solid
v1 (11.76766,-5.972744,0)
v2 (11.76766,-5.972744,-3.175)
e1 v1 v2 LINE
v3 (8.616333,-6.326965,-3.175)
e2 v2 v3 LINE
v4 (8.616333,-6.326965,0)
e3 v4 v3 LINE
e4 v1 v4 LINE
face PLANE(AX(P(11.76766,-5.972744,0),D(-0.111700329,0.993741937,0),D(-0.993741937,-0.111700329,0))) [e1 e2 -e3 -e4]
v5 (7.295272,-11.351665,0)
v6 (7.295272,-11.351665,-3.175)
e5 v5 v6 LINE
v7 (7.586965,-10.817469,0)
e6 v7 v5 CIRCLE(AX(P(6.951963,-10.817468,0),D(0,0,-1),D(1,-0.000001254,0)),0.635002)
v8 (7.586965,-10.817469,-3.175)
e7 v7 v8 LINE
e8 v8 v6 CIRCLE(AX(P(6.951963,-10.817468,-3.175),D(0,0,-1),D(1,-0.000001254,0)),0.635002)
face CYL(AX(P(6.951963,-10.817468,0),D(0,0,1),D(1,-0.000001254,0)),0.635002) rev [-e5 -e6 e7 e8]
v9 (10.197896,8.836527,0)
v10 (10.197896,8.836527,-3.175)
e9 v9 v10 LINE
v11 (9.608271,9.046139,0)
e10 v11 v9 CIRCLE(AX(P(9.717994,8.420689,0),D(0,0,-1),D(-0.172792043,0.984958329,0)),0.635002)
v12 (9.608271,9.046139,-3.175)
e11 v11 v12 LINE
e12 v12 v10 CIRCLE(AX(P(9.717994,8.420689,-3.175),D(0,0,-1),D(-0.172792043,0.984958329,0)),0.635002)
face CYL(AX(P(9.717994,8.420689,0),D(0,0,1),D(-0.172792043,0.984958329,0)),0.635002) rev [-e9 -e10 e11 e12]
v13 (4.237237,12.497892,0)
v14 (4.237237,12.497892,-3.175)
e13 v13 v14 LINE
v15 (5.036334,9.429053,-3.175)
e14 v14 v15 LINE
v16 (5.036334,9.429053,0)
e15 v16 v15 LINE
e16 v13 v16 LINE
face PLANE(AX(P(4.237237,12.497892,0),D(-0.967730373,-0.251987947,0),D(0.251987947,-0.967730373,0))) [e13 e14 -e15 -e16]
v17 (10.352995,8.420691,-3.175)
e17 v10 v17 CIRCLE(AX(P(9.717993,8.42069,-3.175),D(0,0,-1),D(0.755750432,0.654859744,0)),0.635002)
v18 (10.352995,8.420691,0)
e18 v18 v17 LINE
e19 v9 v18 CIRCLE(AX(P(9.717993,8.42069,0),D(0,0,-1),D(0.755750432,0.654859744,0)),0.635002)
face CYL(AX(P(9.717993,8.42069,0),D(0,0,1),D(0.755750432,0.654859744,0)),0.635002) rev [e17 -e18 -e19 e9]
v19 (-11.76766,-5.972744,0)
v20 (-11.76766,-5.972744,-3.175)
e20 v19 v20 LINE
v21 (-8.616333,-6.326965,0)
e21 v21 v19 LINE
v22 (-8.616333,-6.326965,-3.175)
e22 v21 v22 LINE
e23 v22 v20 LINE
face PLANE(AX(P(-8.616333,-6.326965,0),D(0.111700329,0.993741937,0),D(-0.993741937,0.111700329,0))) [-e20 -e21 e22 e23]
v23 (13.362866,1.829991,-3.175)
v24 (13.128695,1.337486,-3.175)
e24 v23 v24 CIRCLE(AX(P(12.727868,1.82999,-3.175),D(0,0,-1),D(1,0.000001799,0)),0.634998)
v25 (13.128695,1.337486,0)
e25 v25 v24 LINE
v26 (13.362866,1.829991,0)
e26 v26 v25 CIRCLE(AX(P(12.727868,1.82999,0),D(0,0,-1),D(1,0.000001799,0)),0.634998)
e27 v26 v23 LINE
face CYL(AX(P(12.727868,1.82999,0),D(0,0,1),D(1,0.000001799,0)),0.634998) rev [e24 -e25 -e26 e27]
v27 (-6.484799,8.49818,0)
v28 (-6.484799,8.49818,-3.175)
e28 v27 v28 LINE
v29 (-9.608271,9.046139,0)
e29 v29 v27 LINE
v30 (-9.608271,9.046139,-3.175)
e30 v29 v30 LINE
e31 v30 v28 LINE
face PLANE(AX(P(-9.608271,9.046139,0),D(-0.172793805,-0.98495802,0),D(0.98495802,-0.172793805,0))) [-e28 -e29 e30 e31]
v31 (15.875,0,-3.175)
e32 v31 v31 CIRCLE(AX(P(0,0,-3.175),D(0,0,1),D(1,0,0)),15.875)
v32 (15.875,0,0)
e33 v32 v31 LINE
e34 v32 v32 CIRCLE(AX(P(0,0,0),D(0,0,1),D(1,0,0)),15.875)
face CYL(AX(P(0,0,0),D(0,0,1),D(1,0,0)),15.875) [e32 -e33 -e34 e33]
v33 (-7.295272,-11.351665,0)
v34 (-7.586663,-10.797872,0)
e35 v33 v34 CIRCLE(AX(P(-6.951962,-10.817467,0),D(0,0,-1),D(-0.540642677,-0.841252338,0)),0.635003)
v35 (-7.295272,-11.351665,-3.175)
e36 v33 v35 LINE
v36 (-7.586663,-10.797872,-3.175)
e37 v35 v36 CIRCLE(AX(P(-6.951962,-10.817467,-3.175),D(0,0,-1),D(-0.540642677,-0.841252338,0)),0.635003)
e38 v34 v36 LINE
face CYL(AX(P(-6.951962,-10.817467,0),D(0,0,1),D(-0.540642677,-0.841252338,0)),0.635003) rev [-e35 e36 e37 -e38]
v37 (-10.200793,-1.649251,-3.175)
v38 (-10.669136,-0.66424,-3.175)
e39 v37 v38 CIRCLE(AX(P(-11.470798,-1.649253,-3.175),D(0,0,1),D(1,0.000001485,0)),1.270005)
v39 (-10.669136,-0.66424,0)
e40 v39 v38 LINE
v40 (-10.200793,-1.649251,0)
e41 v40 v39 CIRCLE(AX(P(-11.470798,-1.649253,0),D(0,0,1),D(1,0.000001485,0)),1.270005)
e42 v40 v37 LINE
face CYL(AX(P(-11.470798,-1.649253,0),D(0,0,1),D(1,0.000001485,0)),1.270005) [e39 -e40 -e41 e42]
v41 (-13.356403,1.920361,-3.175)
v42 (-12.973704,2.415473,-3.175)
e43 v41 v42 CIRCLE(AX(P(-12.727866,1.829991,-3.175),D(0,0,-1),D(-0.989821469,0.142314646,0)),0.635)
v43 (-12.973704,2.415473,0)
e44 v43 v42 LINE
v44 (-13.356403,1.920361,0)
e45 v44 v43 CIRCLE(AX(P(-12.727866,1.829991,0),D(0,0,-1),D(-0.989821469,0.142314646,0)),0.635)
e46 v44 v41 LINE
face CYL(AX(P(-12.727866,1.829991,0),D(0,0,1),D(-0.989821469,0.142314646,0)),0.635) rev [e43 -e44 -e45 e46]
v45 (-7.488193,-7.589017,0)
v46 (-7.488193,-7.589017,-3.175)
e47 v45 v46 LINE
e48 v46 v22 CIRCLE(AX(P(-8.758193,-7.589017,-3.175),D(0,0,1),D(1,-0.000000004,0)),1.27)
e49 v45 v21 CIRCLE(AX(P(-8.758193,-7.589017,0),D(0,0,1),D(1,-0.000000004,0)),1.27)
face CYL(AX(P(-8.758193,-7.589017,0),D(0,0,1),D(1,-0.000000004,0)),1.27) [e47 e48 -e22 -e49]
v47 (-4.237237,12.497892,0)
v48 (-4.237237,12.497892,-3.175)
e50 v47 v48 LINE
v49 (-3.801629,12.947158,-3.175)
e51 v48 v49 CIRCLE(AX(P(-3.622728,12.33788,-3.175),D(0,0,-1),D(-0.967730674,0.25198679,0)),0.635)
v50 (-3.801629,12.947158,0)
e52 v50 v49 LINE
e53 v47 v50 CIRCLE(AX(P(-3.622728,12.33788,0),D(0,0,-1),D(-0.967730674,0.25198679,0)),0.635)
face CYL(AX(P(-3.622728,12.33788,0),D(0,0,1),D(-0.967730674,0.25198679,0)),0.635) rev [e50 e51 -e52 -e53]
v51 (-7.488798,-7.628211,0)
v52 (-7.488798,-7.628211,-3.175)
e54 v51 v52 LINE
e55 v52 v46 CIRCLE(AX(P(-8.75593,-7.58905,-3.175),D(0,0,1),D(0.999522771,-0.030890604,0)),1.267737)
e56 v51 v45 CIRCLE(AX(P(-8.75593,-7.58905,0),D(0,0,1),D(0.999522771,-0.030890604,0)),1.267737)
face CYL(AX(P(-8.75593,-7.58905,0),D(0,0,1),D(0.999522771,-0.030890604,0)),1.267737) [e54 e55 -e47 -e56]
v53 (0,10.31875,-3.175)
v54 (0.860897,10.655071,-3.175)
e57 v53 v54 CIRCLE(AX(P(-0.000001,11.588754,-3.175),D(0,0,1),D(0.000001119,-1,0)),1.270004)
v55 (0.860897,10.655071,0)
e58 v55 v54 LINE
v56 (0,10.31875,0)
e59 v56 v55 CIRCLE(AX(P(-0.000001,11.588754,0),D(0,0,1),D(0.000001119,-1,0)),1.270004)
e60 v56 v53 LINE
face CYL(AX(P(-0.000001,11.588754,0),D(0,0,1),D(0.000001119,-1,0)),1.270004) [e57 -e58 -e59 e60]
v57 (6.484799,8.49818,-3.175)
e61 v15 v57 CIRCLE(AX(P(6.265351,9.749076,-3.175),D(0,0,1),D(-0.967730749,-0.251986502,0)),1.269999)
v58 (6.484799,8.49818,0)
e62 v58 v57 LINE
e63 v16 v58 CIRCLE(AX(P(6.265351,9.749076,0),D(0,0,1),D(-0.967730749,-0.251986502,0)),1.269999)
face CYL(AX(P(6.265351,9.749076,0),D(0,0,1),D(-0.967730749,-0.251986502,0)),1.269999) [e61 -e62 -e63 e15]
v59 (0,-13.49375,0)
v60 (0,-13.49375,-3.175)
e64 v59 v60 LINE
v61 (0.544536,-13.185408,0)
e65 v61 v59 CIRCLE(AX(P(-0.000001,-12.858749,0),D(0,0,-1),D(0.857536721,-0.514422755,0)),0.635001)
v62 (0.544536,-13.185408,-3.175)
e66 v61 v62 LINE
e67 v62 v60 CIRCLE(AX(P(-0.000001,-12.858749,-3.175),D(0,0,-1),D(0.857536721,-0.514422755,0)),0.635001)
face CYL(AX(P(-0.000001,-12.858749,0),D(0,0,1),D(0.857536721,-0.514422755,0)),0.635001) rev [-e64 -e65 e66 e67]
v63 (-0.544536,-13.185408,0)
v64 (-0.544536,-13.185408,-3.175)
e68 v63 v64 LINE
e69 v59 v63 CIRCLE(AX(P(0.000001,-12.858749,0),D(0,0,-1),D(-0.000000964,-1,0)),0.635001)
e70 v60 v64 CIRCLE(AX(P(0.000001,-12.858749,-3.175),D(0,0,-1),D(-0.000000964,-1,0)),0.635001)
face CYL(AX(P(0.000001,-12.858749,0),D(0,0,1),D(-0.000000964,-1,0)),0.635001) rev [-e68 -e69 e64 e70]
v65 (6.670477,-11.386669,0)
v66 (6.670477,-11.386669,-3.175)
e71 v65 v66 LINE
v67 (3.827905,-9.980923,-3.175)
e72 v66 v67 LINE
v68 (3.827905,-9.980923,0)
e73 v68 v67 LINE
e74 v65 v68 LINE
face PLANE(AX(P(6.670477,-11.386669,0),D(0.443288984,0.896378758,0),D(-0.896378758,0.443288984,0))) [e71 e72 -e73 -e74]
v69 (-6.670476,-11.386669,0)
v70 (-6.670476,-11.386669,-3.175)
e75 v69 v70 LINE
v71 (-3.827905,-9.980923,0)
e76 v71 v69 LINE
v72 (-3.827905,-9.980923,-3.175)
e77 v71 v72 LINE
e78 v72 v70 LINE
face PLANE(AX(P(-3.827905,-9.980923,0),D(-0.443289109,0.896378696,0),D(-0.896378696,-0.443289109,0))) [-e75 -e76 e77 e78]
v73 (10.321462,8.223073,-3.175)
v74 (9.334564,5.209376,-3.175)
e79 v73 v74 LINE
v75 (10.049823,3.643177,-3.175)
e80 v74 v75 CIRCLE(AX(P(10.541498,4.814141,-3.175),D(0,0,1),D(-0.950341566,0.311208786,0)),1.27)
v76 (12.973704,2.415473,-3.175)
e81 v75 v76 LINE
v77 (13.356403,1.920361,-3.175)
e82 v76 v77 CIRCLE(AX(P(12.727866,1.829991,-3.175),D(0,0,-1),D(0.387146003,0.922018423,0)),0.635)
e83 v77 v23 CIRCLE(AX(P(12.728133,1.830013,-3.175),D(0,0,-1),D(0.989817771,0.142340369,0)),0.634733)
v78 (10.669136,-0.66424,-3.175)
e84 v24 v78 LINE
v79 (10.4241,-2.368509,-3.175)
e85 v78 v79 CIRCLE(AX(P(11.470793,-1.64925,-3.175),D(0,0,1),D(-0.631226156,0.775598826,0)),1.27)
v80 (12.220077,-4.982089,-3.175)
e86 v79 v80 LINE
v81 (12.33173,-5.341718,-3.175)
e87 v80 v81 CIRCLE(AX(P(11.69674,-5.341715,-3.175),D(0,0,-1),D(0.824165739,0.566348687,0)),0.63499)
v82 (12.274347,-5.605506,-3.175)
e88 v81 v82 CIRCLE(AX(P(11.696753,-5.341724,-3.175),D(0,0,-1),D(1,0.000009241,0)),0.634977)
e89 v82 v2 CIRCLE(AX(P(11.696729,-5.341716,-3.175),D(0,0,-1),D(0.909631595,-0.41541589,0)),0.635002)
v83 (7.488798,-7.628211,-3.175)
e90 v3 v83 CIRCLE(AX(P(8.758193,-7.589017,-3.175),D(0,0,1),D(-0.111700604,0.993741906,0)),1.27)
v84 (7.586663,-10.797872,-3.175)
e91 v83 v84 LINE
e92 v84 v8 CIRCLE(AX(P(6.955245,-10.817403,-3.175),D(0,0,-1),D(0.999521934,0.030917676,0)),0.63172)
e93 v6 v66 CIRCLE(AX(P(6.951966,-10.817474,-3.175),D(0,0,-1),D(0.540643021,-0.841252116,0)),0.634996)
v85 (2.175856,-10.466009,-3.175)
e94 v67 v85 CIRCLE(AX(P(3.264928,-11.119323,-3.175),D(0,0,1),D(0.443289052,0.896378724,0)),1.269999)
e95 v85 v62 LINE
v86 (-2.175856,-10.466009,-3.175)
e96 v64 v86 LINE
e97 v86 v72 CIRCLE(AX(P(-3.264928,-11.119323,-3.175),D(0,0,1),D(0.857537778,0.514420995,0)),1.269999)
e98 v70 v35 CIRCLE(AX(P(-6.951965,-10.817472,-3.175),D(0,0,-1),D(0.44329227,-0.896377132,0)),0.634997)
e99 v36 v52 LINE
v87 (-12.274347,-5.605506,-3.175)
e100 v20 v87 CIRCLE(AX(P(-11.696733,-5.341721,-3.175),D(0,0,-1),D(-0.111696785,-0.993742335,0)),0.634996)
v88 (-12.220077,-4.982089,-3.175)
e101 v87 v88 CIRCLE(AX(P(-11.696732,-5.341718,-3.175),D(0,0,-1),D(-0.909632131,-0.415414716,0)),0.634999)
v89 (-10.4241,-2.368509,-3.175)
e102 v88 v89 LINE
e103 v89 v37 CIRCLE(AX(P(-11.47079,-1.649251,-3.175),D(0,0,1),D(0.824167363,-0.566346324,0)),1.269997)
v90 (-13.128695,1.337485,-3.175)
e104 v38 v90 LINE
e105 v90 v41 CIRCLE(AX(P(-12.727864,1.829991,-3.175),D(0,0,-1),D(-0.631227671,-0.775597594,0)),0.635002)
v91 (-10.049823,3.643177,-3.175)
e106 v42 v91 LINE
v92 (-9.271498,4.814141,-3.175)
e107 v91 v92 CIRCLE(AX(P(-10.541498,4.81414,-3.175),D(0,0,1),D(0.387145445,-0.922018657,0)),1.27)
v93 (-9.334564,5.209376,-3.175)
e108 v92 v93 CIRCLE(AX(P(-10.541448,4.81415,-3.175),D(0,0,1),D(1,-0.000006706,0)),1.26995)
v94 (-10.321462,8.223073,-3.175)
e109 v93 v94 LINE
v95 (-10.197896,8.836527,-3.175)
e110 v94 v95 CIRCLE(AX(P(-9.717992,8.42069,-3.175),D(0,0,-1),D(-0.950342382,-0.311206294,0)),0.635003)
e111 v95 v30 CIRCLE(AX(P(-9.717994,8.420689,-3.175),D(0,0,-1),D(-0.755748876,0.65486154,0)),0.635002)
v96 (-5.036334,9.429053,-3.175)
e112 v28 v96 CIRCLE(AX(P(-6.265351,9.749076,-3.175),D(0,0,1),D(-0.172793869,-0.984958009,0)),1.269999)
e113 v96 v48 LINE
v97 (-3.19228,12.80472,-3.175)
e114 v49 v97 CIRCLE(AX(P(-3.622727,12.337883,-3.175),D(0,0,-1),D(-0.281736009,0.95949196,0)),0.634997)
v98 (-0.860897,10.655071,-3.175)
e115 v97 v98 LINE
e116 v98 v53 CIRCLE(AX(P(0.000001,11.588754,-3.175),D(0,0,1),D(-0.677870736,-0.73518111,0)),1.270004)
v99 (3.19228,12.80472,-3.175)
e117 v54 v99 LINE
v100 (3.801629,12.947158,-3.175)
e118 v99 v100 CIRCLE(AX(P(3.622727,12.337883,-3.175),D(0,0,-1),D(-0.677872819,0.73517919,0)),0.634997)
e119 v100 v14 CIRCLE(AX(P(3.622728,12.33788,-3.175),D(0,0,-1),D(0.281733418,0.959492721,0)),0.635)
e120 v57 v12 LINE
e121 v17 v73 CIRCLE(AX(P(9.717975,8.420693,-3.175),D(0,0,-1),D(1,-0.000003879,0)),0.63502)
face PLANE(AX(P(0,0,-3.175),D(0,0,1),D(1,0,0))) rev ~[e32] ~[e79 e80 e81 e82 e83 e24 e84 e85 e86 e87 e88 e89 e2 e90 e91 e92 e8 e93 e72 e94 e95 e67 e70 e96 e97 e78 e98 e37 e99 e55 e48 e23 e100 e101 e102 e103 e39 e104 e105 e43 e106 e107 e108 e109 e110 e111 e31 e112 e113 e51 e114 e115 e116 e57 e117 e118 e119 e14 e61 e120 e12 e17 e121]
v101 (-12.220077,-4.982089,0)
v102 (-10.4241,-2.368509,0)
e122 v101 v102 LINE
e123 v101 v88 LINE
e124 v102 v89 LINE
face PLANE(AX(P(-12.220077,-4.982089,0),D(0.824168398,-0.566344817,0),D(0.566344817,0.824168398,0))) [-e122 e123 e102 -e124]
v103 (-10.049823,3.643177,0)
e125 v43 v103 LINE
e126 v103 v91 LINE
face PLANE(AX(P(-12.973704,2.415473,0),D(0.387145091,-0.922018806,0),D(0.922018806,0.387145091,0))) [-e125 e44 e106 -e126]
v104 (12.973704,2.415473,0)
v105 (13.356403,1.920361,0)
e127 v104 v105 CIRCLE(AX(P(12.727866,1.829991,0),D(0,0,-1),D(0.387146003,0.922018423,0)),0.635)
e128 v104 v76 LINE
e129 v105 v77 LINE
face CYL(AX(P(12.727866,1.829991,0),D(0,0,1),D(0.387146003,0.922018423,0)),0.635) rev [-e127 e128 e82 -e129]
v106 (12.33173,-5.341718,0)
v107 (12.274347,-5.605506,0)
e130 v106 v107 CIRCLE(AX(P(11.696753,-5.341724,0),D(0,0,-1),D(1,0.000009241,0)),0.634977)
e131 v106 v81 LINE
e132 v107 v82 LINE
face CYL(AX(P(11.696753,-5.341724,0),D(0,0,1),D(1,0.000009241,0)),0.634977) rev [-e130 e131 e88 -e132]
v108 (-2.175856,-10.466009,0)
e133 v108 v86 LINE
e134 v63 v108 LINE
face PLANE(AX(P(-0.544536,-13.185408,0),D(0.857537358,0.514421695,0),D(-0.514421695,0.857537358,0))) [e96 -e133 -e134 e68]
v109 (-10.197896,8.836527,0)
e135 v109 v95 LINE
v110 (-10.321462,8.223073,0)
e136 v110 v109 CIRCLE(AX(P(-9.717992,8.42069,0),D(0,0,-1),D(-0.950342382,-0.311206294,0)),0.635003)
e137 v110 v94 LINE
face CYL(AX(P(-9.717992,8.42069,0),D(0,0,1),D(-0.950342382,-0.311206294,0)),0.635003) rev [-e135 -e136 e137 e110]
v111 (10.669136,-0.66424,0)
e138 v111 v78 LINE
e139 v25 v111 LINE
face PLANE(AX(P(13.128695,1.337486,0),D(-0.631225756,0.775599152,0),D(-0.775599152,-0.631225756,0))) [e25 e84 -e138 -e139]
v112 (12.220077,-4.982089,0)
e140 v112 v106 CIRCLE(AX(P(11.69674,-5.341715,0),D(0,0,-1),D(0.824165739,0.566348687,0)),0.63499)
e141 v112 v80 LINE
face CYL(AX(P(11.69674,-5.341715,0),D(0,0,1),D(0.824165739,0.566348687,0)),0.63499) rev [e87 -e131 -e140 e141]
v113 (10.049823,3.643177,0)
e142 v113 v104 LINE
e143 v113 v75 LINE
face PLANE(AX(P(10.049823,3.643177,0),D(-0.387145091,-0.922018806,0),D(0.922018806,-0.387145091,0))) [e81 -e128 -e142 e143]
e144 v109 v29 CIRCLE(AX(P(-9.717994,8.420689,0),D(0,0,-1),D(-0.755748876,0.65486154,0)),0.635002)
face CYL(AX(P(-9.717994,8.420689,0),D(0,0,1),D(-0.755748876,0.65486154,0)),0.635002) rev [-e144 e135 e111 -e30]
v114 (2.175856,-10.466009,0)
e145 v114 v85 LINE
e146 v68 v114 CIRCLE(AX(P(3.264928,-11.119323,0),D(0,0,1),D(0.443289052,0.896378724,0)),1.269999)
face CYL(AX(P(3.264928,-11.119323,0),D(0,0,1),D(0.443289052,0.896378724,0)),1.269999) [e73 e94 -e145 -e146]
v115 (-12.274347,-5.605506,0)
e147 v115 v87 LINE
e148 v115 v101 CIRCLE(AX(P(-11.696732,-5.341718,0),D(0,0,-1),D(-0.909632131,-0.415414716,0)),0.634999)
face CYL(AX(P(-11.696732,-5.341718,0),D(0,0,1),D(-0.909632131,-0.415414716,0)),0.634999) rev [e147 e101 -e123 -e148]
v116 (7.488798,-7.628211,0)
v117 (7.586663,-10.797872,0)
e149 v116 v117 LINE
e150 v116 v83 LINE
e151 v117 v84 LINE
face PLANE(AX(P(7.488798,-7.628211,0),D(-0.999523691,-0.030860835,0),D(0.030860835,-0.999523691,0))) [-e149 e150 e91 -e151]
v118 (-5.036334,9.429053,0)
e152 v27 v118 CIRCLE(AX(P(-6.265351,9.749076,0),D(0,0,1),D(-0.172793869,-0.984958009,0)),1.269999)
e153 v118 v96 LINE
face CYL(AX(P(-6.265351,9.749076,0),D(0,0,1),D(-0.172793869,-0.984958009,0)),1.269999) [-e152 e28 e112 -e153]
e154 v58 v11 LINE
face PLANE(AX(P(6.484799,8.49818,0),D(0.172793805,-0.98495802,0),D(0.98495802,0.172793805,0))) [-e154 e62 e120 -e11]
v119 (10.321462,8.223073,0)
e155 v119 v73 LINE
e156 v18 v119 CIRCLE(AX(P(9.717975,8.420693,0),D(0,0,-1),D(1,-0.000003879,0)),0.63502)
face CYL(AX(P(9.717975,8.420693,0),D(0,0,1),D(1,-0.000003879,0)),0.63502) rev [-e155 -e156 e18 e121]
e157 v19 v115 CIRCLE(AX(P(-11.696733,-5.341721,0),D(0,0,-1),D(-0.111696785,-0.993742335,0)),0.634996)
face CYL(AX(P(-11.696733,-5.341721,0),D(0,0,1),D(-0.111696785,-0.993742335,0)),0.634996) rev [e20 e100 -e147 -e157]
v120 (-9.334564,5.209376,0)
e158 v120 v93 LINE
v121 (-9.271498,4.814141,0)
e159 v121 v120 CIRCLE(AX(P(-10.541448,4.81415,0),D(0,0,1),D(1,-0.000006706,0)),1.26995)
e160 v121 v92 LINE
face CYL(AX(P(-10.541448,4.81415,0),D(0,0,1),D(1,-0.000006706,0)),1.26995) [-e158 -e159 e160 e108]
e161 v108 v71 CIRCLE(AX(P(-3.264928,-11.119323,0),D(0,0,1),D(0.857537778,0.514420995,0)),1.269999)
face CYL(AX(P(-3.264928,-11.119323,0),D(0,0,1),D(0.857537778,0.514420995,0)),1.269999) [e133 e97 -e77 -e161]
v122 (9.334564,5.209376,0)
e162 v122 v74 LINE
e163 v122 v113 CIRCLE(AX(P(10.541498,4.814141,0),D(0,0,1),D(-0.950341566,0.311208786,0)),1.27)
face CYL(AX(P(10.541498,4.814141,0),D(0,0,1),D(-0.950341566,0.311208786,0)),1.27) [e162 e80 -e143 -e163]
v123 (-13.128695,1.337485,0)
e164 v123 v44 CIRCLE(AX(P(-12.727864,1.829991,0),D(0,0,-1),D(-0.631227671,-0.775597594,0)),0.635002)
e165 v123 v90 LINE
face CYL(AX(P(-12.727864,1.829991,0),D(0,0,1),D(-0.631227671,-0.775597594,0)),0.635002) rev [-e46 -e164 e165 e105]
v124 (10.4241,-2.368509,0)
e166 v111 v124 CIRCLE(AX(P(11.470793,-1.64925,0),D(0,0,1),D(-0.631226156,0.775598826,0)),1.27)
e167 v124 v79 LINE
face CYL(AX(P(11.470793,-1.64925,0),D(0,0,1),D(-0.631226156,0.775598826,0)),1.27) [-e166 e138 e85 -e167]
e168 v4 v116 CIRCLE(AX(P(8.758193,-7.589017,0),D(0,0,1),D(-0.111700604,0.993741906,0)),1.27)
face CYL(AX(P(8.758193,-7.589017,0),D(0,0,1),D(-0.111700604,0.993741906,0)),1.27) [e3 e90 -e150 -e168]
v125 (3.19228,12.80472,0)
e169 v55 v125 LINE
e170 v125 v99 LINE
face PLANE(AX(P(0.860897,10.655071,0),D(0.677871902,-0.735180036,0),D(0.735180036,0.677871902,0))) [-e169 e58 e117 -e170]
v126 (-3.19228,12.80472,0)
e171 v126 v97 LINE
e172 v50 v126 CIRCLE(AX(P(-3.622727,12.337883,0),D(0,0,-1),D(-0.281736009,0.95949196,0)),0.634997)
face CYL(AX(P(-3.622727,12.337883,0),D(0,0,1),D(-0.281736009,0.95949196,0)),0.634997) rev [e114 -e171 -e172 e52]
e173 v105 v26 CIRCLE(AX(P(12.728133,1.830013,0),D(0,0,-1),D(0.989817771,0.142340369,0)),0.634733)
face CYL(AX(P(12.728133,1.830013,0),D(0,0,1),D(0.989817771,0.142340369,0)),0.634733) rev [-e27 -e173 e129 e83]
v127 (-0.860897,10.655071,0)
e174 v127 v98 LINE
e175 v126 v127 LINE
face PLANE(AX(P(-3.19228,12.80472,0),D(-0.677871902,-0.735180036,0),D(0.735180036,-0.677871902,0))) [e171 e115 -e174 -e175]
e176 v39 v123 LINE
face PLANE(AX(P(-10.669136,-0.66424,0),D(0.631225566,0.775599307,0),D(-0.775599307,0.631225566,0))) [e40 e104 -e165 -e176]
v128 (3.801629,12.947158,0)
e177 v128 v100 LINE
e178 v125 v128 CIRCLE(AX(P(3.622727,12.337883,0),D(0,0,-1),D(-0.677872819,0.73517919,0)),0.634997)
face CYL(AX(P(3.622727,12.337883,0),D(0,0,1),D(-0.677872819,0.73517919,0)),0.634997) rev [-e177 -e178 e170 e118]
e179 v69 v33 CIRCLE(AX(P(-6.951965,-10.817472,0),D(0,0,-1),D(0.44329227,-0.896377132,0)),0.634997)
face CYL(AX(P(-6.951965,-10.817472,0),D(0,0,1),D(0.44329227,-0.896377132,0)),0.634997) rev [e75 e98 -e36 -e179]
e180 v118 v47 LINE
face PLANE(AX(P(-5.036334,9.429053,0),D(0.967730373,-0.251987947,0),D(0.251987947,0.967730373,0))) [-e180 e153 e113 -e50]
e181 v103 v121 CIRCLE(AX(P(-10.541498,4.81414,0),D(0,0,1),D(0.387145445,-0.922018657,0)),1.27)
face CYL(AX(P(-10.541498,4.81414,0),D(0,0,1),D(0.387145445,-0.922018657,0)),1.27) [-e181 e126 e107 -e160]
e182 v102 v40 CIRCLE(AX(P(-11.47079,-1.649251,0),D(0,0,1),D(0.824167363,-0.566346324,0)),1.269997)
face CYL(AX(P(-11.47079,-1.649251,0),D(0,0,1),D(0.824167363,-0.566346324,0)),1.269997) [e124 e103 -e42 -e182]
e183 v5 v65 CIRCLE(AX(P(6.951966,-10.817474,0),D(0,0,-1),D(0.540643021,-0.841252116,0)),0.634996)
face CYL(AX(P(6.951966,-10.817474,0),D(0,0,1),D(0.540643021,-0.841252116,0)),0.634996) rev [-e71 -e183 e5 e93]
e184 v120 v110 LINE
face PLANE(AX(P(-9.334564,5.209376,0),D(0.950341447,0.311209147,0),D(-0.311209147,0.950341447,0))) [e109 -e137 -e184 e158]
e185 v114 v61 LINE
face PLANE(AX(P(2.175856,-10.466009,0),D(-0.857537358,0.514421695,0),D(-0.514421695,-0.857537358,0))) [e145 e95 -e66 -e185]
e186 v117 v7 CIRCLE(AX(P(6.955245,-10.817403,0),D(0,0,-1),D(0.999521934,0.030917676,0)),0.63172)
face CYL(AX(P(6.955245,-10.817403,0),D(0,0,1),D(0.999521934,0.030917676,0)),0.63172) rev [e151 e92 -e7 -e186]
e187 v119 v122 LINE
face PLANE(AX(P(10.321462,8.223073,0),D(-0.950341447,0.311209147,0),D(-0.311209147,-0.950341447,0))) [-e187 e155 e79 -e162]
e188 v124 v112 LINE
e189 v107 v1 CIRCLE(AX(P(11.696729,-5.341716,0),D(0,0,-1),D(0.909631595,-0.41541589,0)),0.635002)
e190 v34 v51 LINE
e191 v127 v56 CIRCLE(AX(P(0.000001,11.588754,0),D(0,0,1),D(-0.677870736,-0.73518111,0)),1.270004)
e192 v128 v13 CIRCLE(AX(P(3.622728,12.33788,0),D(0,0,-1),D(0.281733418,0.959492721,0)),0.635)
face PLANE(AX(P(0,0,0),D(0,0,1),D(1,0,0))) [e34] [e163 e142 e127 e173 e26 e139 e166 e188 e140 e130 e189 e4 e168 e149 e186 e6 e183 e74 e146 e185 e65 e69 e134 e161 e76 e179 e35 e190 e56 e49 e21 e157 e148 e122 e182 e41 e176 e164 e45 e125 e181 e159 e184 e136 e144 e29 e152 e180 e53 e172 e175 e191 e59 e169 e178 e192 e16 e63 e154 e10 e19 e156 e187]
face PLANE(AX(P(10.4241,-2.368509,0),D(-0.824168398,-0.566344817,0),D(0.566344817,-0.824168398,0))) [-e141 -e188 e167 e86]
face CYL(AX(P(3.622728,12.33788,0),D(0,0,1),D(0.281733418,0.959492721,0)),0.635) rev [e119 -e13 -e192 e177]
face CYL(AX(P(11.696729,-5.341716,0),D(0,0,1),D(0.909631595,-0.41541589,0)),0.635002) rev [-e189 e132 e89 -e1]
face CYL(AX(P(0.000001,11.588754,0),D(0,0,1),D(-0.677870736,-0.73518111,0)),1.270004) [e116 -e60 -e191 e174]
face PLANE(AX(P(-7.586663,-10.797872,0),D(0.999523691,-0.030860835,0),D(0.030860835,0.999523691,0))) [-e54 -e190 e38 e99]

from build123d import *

# Parameters (mm, degrees)
F0_R     = 15.875
F1_DEPTH = 3.175


with BuildPart() as f1:
    # F0 (on Top) → F1 (new body)
    with BuildSketch(Plane.XY):
        Circle(F0_R)
        with BuildLine():
            ThreePointArc((0, 13.49375), (1.920361, 13.356403), (3.801629, 12.947158))
            ThreePointArc((3.801629, 12.947158), (7.295272, 11.351665), (10.197896, 8.836527))
            ThreePointArc((10.197896, 8.836527), (12.274347, 5.605506), (13.356403, 1.920361))
            ThreePointArc((13.356403, 1.920361), (13.459369, 0.962633), (13.49375, 0))
            ThreePointArc((13.49375, 0), (13.185376, -2.868303), (12.274347, -5.605506))
            ThreePointArc((12.274347, -5.605506), (10.197896, -8.836527), (7.295272, -11.351665))
            ThreePointArc((7.295272, -11.351665), (3.801629, -12.947158), (0, -13.49375))
            ThreePointArc((0, -13.49375), (-3.801629, -12.947158), (-7.295272, -11.351665))
            ThreePointArc((-7.295272, -11.351665), (-10.197896, -8.836527), (-12.274347, -5.605506))
            ThreePointArc((-12.274347, -5.605506), (-13.356403, -1.920361), (-13.356403, 1.920361))
            ThreePointArc((-13.356403, 1.920361), (-12.274347, 5.605506), (-10.197896, 8.836527))
            ThreePointArc((-10.197896, 8.836527), (-7.295272, 11.351665), (-3.801629, 12.947158))
            ThreePointArc((-3.801629, 12.947158), (-1.920361, 13.356403), (0, 13.49375))
        make_face(mode=Mode.SUBTRACT)
        with BuildLine():
            ThreePointArc((-4.237237, 12.497892), (-4.078617, 12.77991), (-3.801629, 12.947158))
            ThreePointArc((-3.801629, 12.947158), (-7.295272, 11.351665), (-10.197896, 8.836527))
            ThreePointArc((-10.197896, 8.836527), (-9.930697, 9.019007), (-9.608271, 9.046139))
            Line((-9.608271, 9.046139), (-6.484799, 8.49818))
            ThreePointArc((-6.484799, 8.49818), (-7.082113, 10.721599), (-4.995351, 9.749077))
            ThreePointArc((-4.995351, 9.749077), (-5.005639, 9.587758), (-5.036334, 9.429053))
            Line((-5.036334, 9.429053), (-4.237237, 12.497892))
        make_face()
        with BuildLine():
            ThreePointArc((-6.484799, 8.49818), (-5.578737, 8.680685), (-5.036334, 9.429053))
            ThreePointArc((-5.036334, 9.429053), (-5.005639, 9.587758), (-4.995351, 9.749077))
            ThreePointArc((-4.995351, 9.749077), (-7.082113, 10.721599), (-6.484799, 8.49818))
        make_face()
        with BuildLine():
            ThreePointArc((-13.128695, 1.337485), (-13.319334, 1.598926), (-13.356403, 1.920361))
            ThreePointArc((-13.356403, 1.920361), (-13.356403, -1.920361), (-12.274347, -5.605506))
            ThreePointArc((-12.274347, -5.605506), (-12.329338, -5.286648), (-12.220077, -4.982089))
            Line((-12.220077, -4.982089), (-10.4241, -2.368509))
            ThreePointArc((-10.4241, -2.368509), (-12.727866, -1.829991), (-10.669136, -0.66424))
            Line((-10.669136, -0.66424), (-13.128695, 1.337485))
        make_face()
        with BuildLine():
            ThreePointArc((-10.200793, -1.649251), (-10.32384, -1.103909), (-10.669136, -0.66424))
            ThreePointArc((-10.669136, -0.66424), (-12.727866, -1.829991), (-10.4241, -2.368509))
            ThreePointArc((-10.4241, -2.368509), (-10.257904, -2.025814), (-10.200793, -1.649251))
        make_face()
        with BuildLine():
            ThreePointArc((-10.321462, 8.223073), (-10.340492, 8.546078), (-10.197896, 8.836527))
            ThreePointArc((-10.197896, 8.836527), (-12.274347, 5.605506), (-13.356403, 1.920361))
            ThreePointArc((-13.356403, 1.920361), (-13.230277, 2.218332), (-12.973704, 2.415473))
            Line((-12.973704, 2.415473), (-10.049823, 3.643177))
            ThreePointArc((-10.049823, 3.643177), (-11.69673, 5.341718), (-9.334564, 5.209376))
            Line((-9.334564, 5.209376), (-10.321462, 8.223073))
        make_face()
        with BuildLine():
            ThreePointArc((-9.271498, 4.814141), (-9.287363, 5.014259), (-9.334564, 5.209376))
            ThreePointArc((-9.334564, 5.209376), (-11.69673, 5.341718), (-10.049823, 3.643177))
            ThreePointArc((-10.049823, 3.643177), (-9.483829, 4.111121), (-9.271498, 4.814141))
        make_face()
        with BuildLine():
            Line((0, 12.85875), (0, 13.49375))
            ThreePointArc((0, 13.49375), (-1.920361, 13.356403), (-3.801629, 12.947158))
            ThreePointArc((-3.801629, 12.947158), (-3.47819, 12.956212), (-3.19228, 12.80472))
            Line((-3.19228, 12.80472), (-0.860897, 10.655071))
            ThreePointArc((-0.860897, 10.655071), (-1.182935, 12.05088), (0, 12.85875))
        make_face()
        with BuildLine():
            ThreePointArc((1.27, 11.58875), (0.898026, 12.486776), (0, 12.85875))
            Line((0, 12.85875), (0, 10.31875))
            ThreePointArc((0, 10.31875), (0.46213, 10.405815), (0.860897, 10.655071))
            ThreePointArc((0.860897, 10.655071), (1.163237, 11.079064), (1.27, 11.58875))
        make_face()
        with BuildLine():
            ThreePointArc((3.19228, 12.80472), (3.47819, 12.956212), (3.801629, 12.947158))
            ThreePointArc((3.801629, 12.947158), (1.920361, 13.356403), (0, 13.49375))
            Line((0, 13.49375), (0, 12.85875))
            ThreePointArc((0, 12.85875), (0.898026, 12.486776), (1.27, 11.58875))
            ThreePointArc((1.27, 11.58875), (1.163237, 11.079064), (0.860897, 10.655071))
            Line((0.860897, 10.655071), (3.19228, 12.80472))
        make_face()
        with BuildLine():
            Line((0, 10.31875), (0, 12.85875))
            ThreePointArc((0, 12.85875), (-1.182935, 12.05088), (-0.860897, 10.655071))
            ThreePointArc((-0.860897, 10.655071), (-0.46213, 10.405815), (0, 10.31875))
        make_face()
        with BuildLine():
            ThreePointArc((10.197896, 8.836527), (7.295272, 11.351665), (3.801629, 12.947158))
            ThreePointArc((3.801629, 12.947158), (4.078617, 12.77991), (4.237237, 12.497892))
            Line((4.237237, 12.497892), (5.036334, 9.429053))
            ThreePointArc((5.036334, 9.429053), (6.104032, 11.00879), (7.535351, 9.749077))
            ThreePointArc((7.535351, 9.749077), (7.237874, 8.932315), (6.484799, 8.49818))
            Line((6.484799, 8.49818), (9.608271, 9.046139))
            ThreePointArc((9.608271, 9.046139), (9.930697, 9.019007), (10.197896, 8.836527))
        make_face()
        with BuildLine():
            ThreePointArc((7.535351, 9.749077), (6.104032, 11.00879), (5.036334, 9.429053))
            ThreePointArc((5.036334, 9.429053), (5.578737, 8.680685), (6.484799, 8.49818))
            ThreePointArc((6.484799, 8.49818), (7.237874, 8.932315), (7.535351, 9.749077))
        make_face()
        with BuildLine():
            ThreePointArc((13.356403, 1.920361), (12.274347, 5.605506), (10.197896, 8.836527))
            ThreePointArc((10.197896, 8.836527), (10.312958, 8.6426), (10.352995, 8.420691))
            ThreePointArc((10.352995, 8.420691), (10.345062, 8.320632), (10.321462, 8.223073))
            Line((10.321462, 8.223073), (9.334564, 5.209376))
            ThreePointArc((9.334564, 5.209376), (10.741616, 6.068275), (11.811498, 4.814141))
            ThreePointArc((11.811498, 4.814141), (11.244518, 3.756472), (10.049823, 3.643177))
            Line((10.049823, 3.643177), (12.973704, 2.415473))
            ThreePointArc((12.973704, 2.415473), (13.230277, 2.218332), (13.356403, 1.920361))
        make_face()
        with BuildLine():
            ThreePointArc((9.334564, 5.209376), (9.386265, 4.286564), (10.049823, 3.643177))
            ThreePointArc((10.049823, 3.643177), (11.244518, 3.756472), (11.811498, 4.814141))
            ThreePointArc((11.811498, 4.814141), (10.741616, 6.068275), (9.334564, 5.209376))
        make_face()
        with BuildLine():
            ThreePointArc((13.49375, 0), (13.459369, 0.962633), (13.356403, 1.920361))
            ThreePointArc((13.356403, 1.920361), (13.361249, 1.875291), (13.362866, 1.829991))
            ThreePointArc((13.362866, 1.829991), (13.301343, 1.55732), (13.128695, 1.337486))
            Line((13.128695, 1.337486), (10.669136, -0.66424))
            ThreePointArc((10.669136, -0.66424), (12.016135, -0.502298), (12.740793, -1.649251))
            ThreePointArc((12.740793, -1.649251), (11.847356, -2.86214), (10.4241, -2.368509))
            Line((10.4241, -2.368509), (12.220077, -4.982089))
            ThreePointArc((12.220077, -4.982089), (12.303175, -5.153436), (12.33173, -5.341718))
            ThreePointArc((12.33173, -5.341718), (12.317219, -5.476697), (12.274347, -5.605506))
            ThreePointArc((12.274347, -5.605506), (13.185376, -2.868303), (13.49375, 0))
        make_face()
        with BuildLine():
            ThreePointArc((12.740793, -1.649251), (12.016135, -0.502298), (10.669136, -0.66424))
            ThreePointArc((10.669136, -0.66424), (10.21372, -1.468511), (10.4241, -2.368509))
            ThreePointArc((10.4241, -2.368509), (11.847356, -2.86214), (12.740793, -1.649251))
        make_face()
        with BuildLine():
            ThreePointArc((7.295272, -11.351665), (10.197896, -8.836527), (12.274347, -5.605506))
            ThreePointArc((12.274347, -5.605506), (12.069382, -5.855873), (11.76766, -5.972744))
            Line((11.76766, -5.972744), (8.616333, -6.326965))
            ThreePointArc((8.616333, -6.326965), (9.604579, -6.642164), (10.028193, -7.589017))
            ThreePointArc((10.028193, -7.589017), (8.777792, -8.858866), (7.488798, -7.628211))
            Line((7.488798, -7.628211), (7.586663, -10.797872))
            ThreePointArc((7.586663, -10.797872), (7.58689, -10.807669), (7.586965, -10.817469))
            ThreePointArc((7.586965, -10.817469), (7.509291, -11.121792), (7.295272, -11.351665))
        make_face()
        with BuildLine():
            ThreePointArc((10.028193, -7.589017), (9.604579, -6.642164), (8.616333, -6.326965))
            ThreePointArc((8.616333, -6.326965), (7.798391, -6.757344), (7.488798, -7.628211))
            ThreePointArc((7.488798, -7.628211), (8.777792, -8.858866), (10.028193, -7.589017))
        make_face()
        with BuildLine():
            ThreePointArc((0, -13.49375), (3.801629, -12.947158), (7.295272, -11.351665))
            ThreePointArc((7.295272, -11.351665), (6.987486, -11.451475), (6.670477, -11.386669))
            Line((6.670477, -11.386669), (3.827905, -9.980923))
            ThreePointArc((3.827905, -9.980923), (4.343789, -10.44928), (4.534928, -11.119324))
            ThreePointArc((4.534928, -11.119324), (2.925975, -12.343257), (2.175856, -10.466009))
            Line((2.175856, -10.466009), (0.544536, -13.185408))
            ThreePointArc((0.544536, -13.185408), (0.312888, -13.411313), (0, -13.49375))
        make_face()
        with BuildLine():
            ThreePointArc((4.534928, -11.119324), (4.343789, -10.44928), (3.827905, -9.980923))
            ThreePointArc((3.827905, -9.980923), (2.907128, -9.900768), (2.175856, -10.466009))
            ThreePointArc((2.175856, -10.466009), (2.925975, -12.343257), (4.534928, -11.119324))
        make_face()
        with BuildLine():
            ThreePointArc((-6.670476, -11.386669), (-6.987486, -11.451475), (-7.295272, -11.351665))
            ThreePointArc((-7.295272, -11.351665), (-3.801629, -12.947158), (0, -13.49375))
            ThreePointArc((0, -13.49375), (-0.312888, -13.411313), (-0.544536, -13.185408))
            Line((-0.544536, -13.185408), (-2.175856, -10.466009))
            ThreePointArc((-2.175856, -10.466009), (-2.040996, -10.780371), (-1.994928, -11.119324))
            ThreePointArc((-1.994928, -11.119324), (-3.934973, -12.198185), (-3.827905, -9.980923))
            Line((-3.827905, -9.980923), (-6.670476, -11.386669))
        make_face()
        with BuildLine():
            ThreePointArc((-2.175856, -10.466009), (-2.907128, -9.900768), (-3.827905, -9.980923))
            ThreePointArc((-3.827905, -9.980923), (-3.934973, -12.198185), (-1.994928, -11.119324))
            ThreePointArc((-1.994928, -11.119324), (-2.040996, -10.780371), (-2.175856, -10.466009))
        make_face()
        with BuildLine():
            ThreePointArc((-11.76766, -5.972744), (-12.069382, -5.855874), (-12.274347, -5.605506))
            ThreePointArc((-12.274347, -5.605506), (-10.197896, -8.836527), (-7.295272, -11.351665))
            ThreePointArc((-7.295272, -11.351665), (-7.513921, -11.113155), (-7.586663, -10.797872))
            Line((-7.586663, -10.797872), (-7.488798, -7.628211))
            ThreePointArc((-7.488798, -7.628211), (-9.717995, -8.42069), (-8.616333, -6.326965))
            Line((-8.616333, -6.326965), (-11.76766, -5.972744))
        make_face()
        with BuildLine():
            ThreePointArc((-7.488193, -7.589017), (-7.81134, -6.742631), (-8.616333, -6.326965))
            ThreePointArc((-8.616333, -6.326965), (-9.717995, -8.42069), (-7.488798, -7.628211))
            ThreePointArc((-7.488798, -7.628211), (-7.488344, -7.608616), (-7.488193, -7.589017))
        make_face()
    extrude(amount=-F1_DEPTH)


solid = f1.part
